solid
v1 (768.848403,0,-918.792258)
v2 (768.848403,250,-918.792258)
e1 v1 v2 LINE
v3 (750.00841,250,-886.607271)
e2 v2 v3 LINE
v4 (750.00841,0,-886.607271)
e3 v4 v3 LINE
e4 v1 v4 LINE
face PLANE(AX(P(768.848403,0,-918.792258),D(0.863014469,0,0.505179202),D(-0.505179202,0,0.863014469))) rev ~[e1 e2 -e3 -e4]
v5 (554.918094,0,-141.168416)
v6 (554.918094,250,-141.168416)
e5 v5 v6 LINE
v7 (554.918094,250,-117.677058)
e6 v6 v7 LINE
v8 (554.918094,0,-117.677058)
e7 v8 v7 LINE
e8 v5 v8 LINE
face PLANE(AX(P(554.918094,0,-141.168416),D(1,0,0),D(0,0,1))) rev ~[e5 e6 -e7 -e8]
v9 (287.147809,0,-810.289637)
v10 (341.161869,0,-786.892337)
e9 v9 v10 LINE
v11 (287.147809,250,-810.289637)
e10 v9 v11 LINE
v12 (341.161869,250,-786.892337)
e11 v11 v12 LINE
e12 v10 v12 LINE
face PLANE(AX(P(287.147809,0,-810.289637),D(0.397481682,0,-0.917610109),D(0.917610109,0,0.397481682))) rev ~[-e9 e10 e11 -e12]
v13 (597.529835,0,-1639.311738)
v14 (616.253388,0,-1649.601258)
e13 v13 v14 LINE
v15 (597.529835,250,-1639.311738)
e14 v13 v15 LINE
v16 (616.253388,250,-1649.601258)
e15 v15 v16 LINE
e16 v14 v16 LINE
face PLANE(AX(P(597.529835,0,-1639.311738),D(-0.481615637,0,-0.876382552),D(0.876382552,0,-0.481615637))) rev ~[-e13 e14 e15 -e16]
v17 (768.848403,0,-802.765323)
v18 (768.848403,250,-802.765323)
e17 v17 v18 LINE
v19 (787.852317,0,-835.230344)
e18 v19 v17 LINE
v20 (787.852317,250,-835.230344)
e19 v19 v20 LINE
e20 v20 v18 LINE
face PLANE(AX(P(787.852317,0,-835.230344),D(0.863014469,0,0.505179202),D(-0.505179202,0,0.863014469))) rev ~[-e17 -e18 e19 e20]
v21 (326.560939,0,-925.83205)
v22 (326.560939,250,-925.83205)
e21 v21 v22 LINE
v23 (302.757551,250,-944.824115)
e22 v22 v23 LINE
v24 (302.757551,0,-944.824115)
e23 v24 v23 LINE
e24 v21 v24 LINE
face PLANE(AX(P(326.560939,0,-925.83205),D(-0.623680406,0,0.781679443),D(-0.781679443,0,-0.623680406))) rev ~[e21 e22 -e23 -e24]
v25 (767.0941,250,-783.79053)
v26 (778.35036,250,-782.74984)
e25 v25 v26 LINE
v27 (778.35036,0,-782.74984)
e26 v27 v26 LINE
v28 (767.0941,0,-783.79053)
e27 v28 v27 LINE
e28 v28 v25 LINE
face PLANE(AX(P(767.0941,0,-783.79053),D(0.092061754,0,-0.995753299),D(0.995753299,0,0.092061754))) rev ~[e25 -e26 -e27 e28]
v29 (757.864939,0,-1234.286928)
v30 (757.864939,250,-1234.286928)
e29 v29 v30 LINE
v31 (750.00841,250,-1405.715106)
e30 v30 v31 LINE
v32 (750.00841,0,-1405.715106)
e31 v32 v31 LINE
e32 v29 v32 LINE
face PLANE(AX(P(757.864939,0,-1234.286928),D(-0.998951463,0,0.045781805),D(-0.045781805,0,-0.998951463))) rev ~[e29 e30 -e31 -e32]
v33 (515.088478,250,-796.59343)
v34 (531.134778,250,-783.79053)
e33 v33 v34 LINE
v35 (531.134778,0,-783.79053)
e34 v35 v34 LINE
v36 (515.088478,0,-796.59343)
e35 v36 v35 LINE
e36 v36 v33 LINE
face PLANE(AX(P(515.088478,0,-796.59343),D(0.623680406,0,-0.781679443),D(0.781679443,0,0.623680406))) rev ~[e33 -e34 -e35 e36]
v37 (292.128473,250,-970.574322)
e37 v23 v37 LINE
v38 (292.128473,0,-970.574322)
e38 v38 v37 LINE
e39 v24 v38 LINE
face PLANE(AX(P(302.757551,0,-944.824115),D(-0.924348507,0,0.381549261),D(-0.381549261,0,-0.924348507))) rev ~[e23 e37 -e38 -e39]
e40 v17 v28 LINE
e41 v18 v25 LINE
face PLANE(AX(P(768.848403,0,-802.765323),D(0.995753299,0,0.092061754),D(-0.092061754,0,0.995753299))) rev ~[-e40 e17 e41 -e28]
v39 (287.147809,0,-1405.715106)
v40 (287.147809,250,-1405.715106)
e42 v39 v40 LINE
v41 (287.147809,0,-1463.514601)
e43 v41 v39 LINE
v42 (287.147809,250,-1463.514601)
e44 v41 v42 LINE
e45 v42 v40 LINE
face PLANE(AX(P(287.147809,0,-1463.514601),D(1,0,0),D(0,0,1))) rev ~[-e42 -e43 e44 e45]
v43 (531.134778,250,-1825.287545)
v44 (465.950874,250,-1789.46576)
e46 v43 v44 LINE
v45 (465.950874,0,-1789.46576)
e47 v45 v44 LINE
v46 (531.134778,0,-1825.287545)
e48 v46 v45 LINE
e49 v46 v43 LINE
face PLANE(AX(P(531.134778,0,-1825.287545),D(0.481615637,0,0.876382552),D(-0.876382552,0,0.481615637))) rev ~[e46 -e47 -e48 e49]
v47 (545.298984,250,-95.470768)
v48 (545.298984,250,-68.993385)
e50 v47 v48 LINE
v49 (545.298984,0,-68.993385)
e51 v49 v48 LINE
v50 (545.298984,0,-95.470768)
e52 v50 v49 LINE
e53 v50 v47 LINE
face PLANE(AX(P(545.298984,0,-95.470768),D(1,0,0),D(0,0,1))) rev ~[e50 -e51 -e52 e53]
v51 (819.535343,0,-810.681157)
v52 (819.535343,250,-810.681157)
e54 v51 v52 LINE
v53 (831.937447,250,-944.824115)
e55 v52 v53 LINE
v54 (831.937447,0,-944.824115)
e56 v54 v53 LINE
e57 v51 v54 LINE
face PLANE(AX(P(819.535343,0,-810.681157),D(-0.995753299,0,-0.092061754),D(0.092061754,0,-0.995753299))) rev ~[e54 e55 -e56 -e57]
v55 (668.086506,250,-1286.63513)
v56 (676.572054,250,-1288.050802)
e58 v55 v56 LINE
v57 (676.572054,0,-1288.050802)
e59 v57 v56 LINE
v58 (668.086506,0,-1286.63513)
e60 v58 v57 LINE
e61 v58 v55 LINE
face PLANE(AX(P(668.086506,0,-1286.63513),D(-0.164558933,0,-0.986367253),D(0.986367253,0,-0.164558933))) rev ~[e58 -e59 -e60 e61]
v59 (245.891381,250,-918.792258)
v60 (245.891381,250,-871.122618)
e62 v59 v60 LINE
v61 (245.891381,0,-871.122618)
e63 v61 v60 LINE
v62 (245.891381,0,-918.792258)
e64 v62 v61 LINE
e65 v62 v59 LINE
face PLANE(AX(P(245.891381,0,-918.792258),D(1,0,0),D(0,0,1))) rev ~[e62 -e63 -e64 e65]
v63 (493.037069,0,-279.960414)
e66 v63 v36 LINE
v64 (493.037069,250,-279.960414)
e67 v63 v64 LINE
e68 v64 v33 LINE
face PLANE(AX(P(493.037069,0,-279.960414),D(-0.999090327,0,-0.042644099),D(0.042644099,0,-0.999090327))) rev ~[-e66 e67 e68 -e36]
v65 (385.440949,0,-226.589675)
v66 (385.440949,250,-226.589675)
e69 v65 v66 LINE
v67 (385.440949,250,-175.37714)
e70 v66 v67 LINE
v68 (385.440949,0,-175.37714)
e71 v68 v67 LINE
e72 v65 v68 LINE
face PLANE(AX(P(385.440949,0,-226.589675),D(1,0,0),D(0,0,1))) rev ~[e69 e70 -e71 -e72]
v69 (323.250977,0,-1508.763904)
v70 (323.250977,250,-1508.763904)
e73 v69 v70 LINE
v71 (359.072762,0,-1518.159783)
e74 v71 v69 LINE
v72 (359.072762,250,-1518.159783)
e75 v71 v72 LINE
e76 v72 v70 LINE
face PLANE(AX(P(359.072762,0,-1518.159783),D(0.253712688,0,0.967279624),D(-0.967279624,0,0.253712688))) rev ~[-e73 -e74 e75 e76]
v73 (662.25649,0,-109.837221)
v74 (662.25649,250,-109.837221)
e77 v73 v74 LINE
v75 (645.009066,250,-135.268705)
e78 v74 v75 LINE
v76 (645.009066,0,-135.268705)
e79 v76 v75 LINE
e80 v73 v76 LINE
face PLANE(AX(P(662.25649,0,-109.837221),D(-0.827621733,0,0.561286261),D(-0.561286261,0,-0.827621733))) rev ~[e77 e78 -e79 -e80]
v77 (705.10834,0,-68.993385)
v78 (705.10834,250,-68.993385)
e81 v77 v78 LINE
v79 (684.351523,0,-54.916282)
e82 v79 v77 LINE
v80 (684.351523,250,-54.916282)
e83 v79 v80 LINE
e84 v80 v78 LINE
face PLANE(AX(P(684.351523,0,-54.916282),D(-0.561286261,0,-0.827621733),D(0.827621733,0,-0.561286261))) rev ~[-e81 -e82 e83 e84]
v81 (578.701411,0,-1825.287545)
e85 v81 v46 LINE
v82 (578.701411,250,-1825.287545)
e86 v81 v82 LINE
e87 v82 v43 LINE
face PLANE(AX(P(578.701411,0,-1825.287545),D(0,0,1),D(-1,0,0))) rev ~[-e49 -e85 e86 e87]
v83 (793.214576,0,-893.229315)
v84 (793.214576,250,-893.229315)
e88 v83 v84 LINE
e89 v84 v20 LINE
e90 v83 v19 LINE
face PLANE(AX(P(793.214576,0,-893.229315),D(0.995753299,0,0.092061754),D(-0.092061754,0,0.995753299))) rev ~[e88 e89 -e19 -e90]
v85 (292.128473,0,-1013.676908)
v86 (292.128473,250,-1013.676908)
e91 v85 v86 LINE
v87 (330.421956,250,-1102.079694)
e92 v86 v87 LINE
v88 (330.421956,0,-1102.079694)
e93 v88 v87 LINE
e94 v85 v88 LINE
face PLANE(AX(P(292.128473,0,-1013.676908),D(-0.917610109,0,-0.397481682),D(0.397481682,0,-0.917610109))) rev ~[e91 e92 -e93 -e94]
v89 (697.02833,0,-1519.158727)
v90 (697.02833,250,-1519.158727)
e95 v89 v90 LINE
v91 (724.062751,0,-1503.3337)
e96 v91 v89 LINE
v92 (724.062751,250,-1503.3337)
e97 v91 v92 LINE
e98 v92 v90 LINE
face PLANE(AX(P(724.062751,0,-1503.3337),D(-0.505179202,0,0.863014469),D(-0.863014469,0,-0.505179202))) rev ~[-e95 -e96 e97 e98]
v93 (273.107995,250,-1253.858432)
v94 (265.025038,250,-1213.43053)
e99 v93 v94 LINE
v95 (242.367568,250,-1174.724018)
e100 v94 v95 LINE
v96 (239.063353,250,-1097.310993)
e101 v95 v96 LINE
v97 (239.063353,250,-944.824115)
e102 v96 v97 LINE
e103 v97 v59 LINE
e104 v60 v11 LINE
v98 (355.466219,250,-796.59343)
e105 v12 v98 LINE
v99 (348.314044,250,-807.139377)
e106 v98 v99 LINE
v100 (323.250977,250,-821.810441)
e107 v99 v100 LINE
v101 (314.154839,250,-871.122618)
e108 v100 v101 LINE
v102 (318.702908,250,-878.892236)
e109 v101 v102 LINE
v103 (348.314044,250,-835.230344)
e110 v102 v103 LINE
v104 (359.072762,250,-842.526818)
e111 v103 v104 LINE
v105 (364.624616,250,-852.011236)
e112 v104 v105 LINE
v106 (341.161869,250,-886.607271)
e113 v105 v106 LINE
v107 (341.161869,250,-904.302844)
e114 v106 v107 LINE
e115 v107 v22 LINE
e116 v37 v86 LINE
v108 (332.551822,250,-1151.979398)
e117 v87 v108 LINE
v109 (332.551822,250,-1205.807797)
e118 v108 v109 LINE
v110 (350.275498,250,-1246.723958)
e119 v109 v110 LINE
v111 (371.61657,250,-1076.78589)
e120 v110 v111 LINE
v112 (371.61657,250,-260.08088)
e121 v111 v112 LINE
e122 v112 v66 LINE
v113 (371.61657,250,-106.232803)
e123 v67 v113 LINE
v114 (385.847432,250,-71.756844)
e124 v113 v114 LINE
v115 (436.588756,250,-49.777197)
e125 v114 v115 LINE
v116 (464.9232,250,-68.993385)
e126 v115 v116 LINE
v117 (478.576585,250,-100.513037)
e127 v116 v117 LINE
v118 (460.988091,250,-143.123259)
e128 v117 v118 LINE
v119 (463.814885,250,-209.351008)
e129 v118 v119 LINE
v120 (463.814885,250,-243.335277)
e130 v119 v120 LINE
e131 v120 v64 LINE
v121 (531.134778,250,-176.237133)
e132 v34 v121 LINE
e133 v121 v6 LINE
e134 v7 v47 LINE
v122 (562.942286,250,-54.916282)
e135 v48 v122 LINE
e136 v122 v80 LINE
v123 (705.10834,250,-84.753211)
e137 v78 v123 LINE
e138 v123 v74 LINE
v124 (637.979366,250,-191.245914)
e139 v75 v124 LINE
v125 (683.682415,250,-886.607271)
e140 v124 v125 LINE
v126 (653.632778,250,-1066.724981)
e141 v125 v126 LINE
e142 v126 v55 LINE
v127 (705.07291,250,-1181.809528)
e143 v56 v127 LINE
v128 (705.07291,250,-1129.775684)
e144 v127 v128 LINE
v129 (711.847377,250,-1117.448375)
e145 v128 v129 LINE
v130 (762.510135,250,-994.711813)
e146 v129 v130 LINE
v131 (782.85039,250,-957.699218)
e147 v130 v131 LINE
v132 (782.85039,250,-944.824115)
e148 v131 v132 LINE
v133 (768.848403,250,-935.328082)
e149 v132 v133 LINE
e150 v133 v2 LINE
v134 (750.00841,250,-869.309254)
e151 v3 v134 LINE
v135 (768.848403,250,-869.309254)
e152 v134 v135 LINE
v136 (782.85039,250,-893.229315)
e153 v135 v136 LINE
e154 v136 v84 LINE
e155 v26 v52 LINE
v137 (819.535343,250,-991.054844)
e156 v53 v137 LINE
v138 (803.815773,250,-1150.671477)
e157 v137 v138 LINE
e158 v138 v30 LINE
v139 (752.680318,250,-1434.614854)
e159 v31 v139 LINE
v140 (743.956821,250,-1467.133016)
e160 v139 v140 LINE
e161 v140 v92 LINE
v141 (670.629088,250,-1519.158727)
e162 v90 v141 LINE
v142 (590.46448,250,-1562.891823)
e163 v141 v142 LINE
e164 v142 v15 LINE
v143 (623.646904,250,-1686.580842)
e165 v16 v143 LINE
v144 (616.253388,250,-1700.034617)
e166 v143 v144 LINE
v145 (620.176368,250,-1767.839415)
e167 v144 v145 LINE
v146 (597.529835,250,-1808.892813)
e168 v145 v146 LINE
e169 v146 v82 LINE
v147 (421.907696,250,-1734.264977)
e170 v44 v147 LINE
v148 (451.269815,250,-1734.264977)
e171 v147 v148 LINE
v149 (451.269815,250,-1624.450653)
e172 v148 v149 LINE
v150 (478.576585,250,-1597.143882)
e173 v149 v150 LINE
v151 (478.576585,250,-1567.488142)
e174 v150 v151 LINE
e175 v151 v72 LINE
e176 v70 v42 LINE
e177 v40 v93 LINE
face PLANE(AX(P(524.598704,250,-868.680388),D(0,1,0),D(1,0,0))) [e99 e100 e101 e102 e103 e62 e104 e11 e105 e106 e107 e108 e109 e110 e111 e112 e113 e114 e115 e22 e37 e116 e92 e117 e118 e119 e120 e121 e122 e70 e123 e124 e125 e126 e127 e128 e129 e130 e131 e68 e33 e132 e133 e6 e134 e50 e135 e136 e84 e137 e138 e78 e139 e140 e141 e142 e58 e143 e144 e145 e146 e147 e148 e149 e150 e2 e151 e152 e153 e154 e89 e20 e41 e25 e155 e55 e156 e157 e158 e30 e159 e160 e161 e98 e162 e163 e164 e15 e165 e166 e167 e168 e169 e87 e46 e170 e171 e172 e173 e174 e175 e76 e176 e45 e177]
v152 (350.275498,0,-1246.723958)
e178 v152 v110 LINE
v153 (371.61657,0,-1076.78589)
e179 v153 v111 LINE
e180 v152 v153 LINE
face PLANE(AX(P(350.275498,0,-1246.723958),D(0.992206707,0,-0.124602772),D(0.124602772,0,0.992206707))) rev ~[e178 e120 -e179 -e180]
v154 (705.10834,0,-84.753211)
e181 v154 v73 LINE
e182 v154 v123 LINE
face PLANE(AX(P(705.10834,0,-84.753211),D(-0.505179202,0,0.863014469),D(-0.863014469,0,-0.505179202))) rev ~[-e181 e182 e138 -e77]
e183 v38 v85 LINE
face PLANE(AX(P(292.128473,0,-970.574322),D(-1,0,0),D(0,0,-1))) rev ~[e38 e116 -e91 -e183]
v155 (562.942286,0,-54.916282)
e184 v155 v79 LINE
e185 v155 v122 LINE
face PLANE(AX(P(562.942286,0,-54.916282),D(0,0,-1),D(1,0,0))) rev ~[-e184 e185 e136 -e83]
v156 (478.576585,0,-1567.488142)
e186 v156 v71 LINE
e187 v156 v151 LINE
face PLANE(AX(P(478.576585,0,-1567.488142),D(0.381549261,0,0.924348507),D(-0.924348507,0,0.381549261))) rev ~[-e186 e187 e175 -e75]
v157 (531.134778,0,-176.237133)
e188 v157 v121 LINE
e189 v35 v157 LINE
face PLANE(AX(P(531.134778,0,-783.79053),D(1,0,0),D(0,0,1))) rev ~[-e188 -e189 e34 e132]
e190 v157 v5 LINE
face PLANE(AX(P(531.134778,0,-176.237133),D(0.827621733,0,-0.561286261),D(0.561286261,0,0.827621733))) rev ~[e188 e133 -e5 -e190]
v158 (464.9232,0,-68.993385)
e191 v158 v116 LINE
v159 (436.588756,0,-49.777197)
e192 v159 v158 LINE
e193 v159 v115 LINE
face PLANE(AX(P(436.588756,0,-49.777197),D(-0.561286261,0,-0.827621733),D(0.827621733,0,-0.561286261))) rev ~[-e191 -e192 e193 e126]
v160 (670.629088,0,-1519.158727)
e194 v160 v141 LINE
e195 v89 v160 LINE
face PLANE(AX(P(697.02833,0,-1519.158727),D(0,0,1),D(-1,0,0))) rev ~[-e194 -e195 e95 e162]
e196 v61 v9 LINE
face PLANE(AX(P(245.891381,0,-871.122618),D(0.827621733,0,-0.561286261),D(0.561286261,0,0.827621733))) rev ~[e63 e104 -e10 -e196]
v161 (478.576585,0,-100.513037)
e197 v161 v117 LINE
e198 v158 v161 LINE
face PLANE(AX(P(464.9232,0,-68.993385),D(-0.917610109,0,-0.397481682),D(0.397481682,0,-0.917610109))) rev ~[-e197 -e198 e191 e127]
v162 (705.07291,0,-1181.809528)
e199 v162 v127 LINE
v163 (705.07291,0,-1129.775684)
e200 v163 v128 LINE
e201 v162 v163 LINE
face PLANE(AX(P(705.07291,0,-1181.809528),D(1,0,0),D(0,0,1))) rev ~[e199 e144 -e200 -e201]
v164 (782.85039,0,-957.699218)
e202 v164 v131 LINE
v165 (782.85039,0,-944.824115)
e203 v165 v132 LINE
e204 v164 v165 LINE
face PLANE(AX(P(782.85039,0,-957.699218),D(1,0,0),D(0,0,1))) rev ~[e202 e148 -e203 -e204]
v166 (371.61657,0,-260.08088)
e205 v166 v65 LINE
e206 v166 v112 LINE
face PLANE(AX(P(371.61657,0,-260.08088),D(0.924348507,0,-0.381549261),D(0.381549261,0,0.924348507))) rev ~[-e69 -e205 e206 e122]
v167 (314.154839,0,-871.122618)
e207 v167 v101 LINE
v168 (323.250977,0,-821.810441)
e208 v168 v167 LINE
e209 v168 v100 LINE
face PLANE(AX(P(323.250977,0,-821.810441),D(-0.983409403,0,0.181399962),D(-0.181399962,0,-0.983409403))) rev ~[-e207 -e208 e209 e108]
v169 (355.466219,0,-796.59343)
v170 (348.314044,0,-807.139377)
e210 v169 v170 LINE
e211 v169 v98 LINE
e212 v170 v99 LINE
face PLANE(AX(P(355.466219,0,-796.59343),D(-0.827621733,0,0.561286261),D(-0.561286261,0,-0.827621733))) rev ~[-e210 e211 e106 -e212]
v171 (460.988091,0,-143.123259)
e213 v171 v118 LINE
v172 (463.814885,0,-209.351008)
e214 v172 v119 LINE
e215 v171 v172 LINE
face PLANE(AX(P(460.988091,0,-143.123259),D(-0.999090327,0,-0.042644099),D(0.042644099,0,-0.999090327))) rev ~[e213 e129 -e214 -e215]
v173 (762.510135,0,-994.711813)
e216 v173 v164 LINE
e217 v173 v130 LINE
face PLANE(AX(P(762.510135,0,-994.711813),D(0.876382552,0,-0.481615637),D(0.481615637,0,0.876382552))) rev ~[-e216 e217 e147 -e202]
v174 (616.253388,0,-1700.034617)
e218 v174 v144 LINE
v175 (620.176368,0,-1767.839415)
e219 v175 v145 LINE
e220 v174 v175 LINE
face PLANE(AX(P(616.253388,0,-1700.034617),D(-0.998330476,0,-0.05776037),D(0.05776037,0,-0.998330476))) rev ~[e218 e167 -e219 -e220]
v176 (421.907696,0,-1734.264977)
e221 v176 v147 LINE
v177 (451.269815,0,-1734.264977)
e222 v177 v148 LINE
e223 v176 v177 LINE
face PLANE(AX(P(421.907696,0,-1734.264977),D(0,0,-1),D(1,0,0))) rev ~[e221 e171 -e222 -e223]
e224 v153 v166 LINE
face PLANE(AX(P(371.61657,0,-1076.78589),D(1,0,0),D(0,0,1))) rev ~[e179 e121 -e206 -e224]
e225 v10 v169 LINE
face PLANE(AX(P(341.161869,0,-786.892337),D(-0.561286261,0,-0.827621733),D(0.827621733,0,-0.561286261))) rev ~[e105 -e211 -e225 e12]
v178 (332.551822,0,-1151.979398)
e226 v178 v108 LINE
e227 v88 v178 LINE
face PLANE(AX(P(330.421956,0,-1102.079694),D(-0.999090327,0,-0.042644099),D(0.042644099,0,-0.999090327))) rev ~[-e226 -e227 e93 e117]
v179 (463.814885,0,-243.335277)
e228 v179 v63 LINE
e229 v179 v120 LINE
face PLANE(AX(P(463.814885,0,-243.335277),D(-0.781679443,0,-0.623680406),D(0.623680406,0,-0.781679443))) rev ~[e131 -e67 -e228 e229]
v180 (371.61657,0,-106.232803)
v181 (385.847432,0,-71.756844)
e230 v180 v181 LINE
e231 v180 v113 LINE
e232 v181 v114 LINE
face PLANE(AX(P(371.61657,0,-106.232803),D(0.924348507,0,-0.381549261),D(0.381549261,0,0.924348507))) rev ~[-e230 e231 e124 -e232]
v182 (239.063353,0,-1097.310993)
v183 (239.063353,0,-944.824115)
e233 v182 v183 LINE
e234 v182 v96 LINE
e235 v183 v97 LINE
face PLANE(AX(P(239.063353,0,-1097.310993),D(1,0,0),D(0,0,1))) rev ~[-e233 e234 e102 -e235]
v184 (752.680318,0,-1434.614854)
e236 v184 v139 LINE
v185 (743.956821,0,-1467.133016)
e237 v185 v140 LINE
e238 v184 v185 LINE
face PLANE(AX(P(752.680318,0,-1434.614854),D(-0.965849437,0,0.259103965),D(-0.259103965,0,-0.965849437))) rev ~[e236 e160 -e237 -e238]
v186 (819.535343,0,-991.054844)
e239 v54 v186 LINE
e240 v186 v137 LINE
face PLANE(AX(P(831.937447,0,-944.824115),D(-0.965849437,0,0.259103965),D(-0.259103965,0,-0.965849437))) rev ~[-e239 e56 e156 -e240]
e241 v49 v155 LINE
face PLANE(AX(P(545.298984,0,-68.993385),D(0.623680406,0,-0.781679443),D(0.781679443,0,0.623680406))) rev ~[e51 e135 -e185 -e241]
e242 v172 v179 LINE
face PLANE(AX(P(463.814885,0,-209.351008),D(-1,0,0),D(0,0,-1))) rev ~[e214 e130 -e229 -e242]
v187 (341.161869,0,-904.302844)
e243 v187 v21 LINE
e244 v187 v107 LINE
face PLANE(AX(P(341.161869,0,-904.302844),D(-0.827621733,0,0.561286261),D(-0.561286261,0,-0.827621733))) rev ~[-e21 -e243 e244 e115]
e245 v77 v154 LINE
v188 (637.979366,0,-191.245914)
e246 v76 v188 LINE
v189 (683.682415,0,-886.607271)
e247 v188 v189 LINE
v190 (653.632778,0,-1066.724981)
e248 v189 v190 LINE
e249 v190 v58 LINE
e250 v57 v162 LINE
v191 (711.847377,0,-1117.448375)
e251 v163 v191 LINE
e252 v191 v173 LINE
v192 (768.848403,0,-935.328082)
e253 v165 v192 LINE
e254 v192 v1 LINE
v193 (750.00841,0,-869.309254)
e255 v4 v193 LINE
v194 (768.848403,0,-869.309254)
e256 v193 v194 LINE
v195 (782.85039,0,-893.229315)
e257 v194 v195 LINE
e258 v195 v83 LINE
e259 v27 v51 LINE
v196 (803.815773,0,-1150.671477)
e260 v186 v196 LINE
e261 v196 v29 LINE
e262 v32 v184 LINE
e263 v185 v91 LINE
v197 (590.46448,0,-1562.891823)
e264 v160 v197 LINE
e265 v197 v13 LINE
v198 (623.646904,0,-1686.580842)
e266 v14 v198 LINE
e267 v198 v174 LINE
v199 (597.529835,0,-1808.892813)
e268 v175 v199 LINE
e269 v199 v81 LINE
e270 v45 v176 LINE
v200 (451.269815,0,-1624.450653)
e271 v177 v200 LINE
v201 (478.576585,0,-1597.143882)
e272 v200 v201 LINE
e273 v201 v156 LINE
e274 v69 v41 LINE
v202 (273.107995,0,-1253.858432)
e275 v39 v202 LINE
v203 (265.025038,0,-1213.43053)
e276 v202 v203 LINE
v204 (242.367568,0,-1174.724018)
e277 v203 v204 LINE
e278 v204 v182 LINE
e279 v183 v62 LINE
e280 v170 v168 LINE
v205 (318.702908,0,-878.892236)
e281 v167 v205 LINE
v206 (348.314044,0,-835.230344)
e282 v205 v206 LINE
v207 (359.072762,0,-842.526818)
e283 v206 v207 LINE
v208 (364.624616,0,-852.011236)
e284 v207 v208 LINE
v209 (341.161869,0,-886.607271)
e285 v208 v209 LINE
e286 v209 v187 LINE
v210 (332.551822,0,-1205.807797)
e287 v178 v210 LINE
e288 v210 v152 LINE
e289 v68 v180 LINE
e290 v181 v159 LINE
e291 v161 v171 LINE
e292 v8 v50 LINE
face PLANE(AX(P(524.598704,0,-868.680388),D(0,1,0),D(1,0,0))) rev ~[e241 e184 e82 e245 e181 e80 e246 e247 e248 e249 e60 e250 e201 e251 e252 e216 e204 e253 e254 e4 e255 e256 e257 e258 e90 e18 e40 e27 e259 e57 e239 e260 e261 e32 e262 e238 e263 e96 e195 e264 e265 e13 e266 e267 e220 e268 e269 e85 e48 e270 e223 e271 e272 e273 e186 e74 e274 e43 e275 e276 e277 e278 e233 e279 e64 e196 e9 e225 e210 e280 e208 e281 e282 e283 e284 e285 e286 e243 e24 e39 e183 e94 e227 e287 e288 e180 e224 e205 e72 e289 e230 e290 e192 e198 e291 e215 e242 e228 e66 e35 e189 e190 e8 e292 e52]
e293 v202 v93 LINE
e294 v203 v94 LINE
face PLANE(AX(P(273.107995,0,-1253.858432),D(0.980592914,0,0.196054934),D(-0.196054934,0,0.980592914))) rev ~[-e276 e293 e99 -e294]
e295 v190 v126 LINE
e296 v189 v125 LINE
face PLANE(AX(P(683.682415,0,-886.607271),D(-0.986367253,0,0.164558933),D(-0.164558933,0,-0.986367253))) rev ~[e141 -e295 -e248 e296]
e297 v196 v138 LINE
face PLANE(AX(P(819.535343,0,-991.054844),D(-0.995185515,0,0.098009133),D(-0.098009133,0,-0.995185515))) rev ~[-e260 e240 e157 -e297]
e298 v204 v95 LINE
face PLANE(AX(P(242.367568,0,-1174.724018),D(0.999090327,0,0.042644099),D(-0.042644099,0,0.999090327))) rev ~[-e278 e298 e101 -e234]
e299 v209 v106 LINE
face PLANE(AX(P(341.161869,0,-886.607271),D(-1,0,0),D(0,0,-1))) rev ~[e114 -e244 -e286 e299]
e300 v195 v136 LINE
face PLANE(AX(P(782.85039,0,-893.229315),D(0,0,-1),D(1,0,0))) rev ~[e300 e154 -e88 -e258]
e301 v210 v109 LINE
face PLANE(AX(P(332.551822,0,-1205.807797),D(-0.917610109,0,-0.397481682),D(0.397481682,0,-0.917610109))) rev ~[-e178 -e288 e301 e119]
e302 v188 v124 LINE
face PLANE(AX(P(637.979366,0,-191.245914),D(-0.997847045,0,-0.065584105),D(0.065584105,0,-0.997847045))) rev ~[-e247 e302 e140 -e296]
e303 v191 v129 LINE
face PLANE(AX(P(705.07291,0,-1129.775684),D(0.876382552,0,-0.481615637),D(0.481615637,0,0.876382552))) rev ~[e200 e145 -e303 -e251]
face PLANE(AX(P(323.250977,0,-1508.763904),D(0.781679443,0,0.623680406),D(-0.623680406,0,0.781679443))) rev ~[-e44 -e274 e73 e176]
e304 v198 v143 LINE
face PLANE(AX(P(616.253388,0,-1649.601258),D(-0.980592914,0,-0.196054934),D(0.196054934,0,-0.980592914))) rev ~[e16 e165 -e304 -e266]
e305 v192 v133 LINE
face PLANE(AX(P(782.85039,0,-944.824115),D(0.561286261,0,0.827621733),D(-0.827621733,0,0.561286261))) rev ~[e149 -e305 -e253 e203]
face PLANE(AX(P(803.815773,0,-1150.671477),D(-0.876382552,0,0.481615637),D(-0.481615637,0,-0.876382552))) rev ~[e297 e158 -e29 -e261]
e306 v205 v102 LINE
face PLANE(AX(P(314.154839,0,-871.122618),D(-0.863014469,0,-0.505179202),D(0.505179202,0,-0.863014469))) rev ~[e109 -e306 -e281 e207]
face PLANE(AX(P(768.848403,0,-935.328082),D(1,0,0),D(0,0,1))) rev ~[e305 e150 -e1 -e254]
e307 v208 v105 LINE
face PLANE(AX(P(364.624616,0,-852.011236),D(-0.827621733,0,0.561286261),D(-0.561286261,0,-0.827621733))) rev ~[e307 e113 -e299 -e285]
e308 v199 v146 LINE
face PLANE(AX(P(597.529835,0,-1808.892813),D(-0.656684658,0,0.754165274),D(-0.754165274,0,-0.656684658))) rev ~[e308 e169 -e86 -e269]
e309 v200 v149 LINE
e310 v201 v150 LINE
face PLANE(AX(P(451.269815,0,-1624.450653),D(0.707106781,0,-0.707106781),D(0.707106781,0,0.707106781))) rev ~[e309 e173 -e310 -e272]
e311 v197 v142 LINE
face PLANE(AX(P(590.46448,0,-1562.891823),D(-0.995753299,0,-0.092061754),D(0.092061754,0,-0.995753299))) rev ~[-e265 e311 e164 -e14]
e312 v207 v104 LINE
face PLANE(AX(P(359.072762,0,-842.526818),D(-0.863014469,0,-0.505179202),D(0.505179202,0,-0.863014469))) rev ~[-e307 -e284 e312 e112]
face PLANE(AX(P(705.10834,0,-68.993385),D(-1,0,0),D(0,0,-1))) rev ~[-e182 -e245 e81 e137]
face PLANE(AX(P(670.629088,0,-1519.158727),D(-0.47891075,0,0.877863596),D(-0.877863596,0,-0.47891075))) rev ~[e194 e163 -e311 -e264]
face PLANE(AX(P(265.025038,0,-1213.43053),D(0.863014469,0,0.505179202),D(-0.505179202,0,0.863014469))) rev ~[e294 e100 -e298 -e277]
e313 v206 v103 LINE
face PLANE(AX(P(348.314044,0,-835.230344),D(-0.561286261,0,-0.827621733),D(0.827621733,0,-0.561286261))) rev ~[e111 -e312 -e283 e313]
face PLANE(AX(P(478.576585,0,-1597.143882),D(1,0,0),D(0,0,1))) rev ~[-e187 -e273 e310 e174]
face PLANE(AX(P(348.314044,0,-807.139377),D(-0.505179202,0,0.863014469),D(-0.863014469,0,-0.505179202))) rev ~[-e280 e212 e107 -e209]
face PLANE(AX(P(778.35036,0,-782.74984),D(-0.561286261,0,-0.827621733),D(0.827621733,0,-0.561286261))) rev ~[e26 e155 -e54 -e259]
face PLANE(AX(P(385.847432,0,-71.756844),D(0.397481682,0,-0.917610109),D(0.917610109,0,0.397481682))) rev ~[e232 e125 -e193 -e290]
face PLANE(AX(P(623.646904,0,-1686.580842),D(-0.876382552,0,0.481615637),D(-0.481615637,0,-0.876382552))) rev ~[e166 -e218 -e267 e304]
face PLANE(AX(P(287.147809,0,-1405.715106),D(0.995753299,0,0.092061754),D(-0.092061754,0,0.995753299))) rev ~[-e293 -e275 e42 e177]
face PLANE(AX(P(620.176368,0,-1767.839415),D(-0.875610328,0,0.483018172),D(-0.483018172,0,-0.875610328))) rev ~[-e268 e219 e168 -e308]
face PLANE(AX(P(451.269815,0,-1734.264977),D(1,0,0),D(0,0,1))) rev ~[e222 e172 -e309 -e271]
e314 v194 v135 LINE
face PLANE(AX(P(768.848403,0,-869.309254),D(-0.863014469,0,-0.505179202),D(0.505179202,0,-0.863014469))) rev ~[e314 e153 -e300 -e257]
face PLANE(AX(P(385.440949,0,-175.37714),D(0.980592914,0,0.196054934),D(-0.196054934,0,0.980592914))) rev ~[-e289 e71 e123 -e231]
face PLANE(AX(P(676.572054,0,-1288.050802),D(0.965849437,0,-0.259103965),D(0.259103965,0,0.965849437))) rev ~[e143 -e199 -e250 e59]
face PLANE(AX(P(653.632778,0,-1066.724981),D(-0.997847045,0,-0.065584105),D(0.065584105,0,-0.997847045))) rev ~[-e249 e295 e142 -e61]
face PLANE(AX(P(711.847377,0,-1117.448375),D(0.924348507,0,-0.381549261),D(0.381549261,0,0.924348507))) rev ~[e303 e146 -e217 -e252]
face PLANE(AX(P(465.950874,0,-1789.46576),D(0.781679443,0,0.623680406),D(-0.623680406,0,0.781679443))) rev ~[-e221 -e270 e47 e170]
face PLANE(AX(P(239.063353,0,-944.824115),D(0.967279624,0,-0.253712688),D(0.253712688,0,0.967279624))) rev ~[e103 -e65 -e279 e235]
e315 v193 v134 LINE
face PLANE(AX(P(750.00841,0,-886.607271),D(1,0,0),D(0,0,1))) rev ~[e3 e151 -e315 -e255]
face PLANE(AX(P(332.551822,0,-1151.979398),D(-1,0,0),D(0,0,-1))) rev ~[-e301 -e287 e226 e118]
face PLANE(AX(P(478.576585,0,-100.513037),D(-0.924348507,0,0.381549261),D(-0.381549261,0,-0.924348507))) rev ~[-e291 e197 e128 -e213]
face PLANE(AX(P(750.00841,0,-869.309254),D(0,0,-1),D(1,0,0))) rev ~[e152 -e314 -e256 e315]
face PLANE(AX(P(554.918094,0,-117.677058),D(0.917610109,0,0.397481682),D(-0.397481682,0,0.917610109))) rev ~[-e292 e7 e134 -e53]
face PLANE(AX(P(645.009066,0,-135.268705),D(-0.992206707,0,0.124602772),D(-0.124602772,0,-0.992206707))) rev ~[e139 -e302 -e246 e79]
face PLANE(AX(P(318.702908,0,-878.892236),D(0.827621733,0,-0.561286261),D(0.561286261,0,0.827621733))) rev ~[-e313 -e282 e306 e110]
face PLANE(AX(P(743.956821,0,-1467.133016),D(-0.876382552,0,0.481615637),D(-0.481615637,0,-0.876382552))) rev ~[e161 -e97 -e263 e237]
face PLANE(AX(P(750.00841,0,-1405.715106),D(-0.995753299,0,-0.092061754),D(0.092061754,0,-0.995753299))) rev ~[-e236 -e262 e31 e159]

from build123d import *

# Parameters (mm, degrees)
BOSS_EXTRUDE1_DEPTH = 250


with BuildPart() as part:
    # Sketch1 → Boss-Extrude1 (new body)
    with BuildSketch(Plane(origin=(0, 0, 0), x_dir=(1, 0, 0), z_dir=(0, 1, 0))):
        Polygon((578.701410648, 1825.287545316), (531.134778167, 1825.287545316), (465.950874397, 1789.465760361), (421.907696174, 1734.264976989), (451.269814989, 1734.264976989), (451.269814989, 1624.450652619), (478.576585488, 1597.143882121), (478.576585488, 1567.488142118), (359.072761909, 1518.159782508), (323.250976955, 1508.763904487), (287.147809461, 1463.514601229), (287.147809461, 1405.715106095), (273.107994721, 1253.858431719), (265.025038466, 1213.430529779), (242.367567897, 1174.724017557), (239.063353439, 1097.310993114), (239.063353439, 944.824114781), (245.891381344, 918.792258395), (245.891381344, 871.122618446), (287.147809461, 810.289637344), (341.161869432, 786.892336921), (355.466219294, 796.593429505), (348.314044363, 807.139376943), (323.250976955, 821.810440791), (314.154839447, 871.122618446), (318.702908201, 878.892235901), (348.314044363, 835.23034444), (359.072761909, 842.52681831), (364.624616217, 852.011236086), (341.161869432, 886.607271102), (341.161869432, 904.30284394), (326.560938876, 925.832049766), (302.757550724, 944.824114781), (292.128472658, 970.574321762), (292.128472658, 1013.676908453), (330.421956406, 1102.079693826), (332.551821838, 1151.979398219), (332.551821838, 1205.807797227), (350.275497983, 1246.723958017), (371.616569608, 1076.785889831), (371.616569608, 895.455057521), (371.616569608, 260.080879685), (385.440948916, 226.589675052), (385.440948916, 175.377140283), (371.616569608, 106.232803304), (385.847432355, 71.756844149), (436.588755582, 49.777196922), (464.923200239, 68.993384557), (478.576585488, 100.513036666), (460.98809069, 143.123259181), (463.814884827, 209.35100752), (463.814884827, 243.335277368), (493.037068607, 279.960414373), (515.088477789, 796.593429505), (531.134778167, 783.790530267), (531.134778167, 176.23713335), (554.918094408, 141.168415737), (554.918094408, 117.677057814), (545.298983692, 95.470768472), (545.298983692, 68.993384557), (562.942285845, 54.916281775), (684.351522986, 54.916281775), (705.108339961, 68.993384557), (705.108339961, 84.753210612), (662.256489638, 109.837220557), (645.00906552, 135.268705377), (637.979365683, 191.245913613), (683.682414799, 886.607271102), (653.632777579, 1066.724980903), (668.086506196, 1286.63513014), (676.572054292, 1288.050802381), (705.072909907, 1181.809528206), (705.072909907, 1129.77568395), (711.847377196, 1117.44837462), (762.510134993, 994.711812576), (782.850389521, 957.699218271), (782.850389521, 944.824114781), (768.84840262, 935.328082274), (768.84840262, 918.792258395), (750.008410059, 886.607271102), (750.008410059, 869.309253594), (768.84840262, 869.309253594), (782.850389521, 893.22931455), (793.214576246, 893.22931455), (787.8523174, 835.23034444), (768.84840262, 802.765323358), (767.094099882, 783.790530267), (778.35036001, 782.749839711), (819.535342519, 810.681156566), (831.937446607, 944.824114781), (819.535342519, 991.054844082), (803.815773154, 1150.671476587), (757.864939322, 1234.286928314), (750.008410059, 1405.715106095), (752.680318314, 1434.614853662), (743.956821075, 1467.133016429), (724.062751494, 1503.333700421), (697.028330439, 1519.15872738), (670.629087918, 1519.15872738), (590.46447955, 1562.891823116), (597.529835452, 1639.311738223), (616.253387999, 1649.601258091), (623.646904415, 1686.580841707), (616.253387999, 1700.034617481), (620.176367687, 1767.839414568), (597.529835452, 1808.892813111), align=None)
    extrude(amount=BOSS_EXTRUDE1_DEPTH)


solid = part.part
